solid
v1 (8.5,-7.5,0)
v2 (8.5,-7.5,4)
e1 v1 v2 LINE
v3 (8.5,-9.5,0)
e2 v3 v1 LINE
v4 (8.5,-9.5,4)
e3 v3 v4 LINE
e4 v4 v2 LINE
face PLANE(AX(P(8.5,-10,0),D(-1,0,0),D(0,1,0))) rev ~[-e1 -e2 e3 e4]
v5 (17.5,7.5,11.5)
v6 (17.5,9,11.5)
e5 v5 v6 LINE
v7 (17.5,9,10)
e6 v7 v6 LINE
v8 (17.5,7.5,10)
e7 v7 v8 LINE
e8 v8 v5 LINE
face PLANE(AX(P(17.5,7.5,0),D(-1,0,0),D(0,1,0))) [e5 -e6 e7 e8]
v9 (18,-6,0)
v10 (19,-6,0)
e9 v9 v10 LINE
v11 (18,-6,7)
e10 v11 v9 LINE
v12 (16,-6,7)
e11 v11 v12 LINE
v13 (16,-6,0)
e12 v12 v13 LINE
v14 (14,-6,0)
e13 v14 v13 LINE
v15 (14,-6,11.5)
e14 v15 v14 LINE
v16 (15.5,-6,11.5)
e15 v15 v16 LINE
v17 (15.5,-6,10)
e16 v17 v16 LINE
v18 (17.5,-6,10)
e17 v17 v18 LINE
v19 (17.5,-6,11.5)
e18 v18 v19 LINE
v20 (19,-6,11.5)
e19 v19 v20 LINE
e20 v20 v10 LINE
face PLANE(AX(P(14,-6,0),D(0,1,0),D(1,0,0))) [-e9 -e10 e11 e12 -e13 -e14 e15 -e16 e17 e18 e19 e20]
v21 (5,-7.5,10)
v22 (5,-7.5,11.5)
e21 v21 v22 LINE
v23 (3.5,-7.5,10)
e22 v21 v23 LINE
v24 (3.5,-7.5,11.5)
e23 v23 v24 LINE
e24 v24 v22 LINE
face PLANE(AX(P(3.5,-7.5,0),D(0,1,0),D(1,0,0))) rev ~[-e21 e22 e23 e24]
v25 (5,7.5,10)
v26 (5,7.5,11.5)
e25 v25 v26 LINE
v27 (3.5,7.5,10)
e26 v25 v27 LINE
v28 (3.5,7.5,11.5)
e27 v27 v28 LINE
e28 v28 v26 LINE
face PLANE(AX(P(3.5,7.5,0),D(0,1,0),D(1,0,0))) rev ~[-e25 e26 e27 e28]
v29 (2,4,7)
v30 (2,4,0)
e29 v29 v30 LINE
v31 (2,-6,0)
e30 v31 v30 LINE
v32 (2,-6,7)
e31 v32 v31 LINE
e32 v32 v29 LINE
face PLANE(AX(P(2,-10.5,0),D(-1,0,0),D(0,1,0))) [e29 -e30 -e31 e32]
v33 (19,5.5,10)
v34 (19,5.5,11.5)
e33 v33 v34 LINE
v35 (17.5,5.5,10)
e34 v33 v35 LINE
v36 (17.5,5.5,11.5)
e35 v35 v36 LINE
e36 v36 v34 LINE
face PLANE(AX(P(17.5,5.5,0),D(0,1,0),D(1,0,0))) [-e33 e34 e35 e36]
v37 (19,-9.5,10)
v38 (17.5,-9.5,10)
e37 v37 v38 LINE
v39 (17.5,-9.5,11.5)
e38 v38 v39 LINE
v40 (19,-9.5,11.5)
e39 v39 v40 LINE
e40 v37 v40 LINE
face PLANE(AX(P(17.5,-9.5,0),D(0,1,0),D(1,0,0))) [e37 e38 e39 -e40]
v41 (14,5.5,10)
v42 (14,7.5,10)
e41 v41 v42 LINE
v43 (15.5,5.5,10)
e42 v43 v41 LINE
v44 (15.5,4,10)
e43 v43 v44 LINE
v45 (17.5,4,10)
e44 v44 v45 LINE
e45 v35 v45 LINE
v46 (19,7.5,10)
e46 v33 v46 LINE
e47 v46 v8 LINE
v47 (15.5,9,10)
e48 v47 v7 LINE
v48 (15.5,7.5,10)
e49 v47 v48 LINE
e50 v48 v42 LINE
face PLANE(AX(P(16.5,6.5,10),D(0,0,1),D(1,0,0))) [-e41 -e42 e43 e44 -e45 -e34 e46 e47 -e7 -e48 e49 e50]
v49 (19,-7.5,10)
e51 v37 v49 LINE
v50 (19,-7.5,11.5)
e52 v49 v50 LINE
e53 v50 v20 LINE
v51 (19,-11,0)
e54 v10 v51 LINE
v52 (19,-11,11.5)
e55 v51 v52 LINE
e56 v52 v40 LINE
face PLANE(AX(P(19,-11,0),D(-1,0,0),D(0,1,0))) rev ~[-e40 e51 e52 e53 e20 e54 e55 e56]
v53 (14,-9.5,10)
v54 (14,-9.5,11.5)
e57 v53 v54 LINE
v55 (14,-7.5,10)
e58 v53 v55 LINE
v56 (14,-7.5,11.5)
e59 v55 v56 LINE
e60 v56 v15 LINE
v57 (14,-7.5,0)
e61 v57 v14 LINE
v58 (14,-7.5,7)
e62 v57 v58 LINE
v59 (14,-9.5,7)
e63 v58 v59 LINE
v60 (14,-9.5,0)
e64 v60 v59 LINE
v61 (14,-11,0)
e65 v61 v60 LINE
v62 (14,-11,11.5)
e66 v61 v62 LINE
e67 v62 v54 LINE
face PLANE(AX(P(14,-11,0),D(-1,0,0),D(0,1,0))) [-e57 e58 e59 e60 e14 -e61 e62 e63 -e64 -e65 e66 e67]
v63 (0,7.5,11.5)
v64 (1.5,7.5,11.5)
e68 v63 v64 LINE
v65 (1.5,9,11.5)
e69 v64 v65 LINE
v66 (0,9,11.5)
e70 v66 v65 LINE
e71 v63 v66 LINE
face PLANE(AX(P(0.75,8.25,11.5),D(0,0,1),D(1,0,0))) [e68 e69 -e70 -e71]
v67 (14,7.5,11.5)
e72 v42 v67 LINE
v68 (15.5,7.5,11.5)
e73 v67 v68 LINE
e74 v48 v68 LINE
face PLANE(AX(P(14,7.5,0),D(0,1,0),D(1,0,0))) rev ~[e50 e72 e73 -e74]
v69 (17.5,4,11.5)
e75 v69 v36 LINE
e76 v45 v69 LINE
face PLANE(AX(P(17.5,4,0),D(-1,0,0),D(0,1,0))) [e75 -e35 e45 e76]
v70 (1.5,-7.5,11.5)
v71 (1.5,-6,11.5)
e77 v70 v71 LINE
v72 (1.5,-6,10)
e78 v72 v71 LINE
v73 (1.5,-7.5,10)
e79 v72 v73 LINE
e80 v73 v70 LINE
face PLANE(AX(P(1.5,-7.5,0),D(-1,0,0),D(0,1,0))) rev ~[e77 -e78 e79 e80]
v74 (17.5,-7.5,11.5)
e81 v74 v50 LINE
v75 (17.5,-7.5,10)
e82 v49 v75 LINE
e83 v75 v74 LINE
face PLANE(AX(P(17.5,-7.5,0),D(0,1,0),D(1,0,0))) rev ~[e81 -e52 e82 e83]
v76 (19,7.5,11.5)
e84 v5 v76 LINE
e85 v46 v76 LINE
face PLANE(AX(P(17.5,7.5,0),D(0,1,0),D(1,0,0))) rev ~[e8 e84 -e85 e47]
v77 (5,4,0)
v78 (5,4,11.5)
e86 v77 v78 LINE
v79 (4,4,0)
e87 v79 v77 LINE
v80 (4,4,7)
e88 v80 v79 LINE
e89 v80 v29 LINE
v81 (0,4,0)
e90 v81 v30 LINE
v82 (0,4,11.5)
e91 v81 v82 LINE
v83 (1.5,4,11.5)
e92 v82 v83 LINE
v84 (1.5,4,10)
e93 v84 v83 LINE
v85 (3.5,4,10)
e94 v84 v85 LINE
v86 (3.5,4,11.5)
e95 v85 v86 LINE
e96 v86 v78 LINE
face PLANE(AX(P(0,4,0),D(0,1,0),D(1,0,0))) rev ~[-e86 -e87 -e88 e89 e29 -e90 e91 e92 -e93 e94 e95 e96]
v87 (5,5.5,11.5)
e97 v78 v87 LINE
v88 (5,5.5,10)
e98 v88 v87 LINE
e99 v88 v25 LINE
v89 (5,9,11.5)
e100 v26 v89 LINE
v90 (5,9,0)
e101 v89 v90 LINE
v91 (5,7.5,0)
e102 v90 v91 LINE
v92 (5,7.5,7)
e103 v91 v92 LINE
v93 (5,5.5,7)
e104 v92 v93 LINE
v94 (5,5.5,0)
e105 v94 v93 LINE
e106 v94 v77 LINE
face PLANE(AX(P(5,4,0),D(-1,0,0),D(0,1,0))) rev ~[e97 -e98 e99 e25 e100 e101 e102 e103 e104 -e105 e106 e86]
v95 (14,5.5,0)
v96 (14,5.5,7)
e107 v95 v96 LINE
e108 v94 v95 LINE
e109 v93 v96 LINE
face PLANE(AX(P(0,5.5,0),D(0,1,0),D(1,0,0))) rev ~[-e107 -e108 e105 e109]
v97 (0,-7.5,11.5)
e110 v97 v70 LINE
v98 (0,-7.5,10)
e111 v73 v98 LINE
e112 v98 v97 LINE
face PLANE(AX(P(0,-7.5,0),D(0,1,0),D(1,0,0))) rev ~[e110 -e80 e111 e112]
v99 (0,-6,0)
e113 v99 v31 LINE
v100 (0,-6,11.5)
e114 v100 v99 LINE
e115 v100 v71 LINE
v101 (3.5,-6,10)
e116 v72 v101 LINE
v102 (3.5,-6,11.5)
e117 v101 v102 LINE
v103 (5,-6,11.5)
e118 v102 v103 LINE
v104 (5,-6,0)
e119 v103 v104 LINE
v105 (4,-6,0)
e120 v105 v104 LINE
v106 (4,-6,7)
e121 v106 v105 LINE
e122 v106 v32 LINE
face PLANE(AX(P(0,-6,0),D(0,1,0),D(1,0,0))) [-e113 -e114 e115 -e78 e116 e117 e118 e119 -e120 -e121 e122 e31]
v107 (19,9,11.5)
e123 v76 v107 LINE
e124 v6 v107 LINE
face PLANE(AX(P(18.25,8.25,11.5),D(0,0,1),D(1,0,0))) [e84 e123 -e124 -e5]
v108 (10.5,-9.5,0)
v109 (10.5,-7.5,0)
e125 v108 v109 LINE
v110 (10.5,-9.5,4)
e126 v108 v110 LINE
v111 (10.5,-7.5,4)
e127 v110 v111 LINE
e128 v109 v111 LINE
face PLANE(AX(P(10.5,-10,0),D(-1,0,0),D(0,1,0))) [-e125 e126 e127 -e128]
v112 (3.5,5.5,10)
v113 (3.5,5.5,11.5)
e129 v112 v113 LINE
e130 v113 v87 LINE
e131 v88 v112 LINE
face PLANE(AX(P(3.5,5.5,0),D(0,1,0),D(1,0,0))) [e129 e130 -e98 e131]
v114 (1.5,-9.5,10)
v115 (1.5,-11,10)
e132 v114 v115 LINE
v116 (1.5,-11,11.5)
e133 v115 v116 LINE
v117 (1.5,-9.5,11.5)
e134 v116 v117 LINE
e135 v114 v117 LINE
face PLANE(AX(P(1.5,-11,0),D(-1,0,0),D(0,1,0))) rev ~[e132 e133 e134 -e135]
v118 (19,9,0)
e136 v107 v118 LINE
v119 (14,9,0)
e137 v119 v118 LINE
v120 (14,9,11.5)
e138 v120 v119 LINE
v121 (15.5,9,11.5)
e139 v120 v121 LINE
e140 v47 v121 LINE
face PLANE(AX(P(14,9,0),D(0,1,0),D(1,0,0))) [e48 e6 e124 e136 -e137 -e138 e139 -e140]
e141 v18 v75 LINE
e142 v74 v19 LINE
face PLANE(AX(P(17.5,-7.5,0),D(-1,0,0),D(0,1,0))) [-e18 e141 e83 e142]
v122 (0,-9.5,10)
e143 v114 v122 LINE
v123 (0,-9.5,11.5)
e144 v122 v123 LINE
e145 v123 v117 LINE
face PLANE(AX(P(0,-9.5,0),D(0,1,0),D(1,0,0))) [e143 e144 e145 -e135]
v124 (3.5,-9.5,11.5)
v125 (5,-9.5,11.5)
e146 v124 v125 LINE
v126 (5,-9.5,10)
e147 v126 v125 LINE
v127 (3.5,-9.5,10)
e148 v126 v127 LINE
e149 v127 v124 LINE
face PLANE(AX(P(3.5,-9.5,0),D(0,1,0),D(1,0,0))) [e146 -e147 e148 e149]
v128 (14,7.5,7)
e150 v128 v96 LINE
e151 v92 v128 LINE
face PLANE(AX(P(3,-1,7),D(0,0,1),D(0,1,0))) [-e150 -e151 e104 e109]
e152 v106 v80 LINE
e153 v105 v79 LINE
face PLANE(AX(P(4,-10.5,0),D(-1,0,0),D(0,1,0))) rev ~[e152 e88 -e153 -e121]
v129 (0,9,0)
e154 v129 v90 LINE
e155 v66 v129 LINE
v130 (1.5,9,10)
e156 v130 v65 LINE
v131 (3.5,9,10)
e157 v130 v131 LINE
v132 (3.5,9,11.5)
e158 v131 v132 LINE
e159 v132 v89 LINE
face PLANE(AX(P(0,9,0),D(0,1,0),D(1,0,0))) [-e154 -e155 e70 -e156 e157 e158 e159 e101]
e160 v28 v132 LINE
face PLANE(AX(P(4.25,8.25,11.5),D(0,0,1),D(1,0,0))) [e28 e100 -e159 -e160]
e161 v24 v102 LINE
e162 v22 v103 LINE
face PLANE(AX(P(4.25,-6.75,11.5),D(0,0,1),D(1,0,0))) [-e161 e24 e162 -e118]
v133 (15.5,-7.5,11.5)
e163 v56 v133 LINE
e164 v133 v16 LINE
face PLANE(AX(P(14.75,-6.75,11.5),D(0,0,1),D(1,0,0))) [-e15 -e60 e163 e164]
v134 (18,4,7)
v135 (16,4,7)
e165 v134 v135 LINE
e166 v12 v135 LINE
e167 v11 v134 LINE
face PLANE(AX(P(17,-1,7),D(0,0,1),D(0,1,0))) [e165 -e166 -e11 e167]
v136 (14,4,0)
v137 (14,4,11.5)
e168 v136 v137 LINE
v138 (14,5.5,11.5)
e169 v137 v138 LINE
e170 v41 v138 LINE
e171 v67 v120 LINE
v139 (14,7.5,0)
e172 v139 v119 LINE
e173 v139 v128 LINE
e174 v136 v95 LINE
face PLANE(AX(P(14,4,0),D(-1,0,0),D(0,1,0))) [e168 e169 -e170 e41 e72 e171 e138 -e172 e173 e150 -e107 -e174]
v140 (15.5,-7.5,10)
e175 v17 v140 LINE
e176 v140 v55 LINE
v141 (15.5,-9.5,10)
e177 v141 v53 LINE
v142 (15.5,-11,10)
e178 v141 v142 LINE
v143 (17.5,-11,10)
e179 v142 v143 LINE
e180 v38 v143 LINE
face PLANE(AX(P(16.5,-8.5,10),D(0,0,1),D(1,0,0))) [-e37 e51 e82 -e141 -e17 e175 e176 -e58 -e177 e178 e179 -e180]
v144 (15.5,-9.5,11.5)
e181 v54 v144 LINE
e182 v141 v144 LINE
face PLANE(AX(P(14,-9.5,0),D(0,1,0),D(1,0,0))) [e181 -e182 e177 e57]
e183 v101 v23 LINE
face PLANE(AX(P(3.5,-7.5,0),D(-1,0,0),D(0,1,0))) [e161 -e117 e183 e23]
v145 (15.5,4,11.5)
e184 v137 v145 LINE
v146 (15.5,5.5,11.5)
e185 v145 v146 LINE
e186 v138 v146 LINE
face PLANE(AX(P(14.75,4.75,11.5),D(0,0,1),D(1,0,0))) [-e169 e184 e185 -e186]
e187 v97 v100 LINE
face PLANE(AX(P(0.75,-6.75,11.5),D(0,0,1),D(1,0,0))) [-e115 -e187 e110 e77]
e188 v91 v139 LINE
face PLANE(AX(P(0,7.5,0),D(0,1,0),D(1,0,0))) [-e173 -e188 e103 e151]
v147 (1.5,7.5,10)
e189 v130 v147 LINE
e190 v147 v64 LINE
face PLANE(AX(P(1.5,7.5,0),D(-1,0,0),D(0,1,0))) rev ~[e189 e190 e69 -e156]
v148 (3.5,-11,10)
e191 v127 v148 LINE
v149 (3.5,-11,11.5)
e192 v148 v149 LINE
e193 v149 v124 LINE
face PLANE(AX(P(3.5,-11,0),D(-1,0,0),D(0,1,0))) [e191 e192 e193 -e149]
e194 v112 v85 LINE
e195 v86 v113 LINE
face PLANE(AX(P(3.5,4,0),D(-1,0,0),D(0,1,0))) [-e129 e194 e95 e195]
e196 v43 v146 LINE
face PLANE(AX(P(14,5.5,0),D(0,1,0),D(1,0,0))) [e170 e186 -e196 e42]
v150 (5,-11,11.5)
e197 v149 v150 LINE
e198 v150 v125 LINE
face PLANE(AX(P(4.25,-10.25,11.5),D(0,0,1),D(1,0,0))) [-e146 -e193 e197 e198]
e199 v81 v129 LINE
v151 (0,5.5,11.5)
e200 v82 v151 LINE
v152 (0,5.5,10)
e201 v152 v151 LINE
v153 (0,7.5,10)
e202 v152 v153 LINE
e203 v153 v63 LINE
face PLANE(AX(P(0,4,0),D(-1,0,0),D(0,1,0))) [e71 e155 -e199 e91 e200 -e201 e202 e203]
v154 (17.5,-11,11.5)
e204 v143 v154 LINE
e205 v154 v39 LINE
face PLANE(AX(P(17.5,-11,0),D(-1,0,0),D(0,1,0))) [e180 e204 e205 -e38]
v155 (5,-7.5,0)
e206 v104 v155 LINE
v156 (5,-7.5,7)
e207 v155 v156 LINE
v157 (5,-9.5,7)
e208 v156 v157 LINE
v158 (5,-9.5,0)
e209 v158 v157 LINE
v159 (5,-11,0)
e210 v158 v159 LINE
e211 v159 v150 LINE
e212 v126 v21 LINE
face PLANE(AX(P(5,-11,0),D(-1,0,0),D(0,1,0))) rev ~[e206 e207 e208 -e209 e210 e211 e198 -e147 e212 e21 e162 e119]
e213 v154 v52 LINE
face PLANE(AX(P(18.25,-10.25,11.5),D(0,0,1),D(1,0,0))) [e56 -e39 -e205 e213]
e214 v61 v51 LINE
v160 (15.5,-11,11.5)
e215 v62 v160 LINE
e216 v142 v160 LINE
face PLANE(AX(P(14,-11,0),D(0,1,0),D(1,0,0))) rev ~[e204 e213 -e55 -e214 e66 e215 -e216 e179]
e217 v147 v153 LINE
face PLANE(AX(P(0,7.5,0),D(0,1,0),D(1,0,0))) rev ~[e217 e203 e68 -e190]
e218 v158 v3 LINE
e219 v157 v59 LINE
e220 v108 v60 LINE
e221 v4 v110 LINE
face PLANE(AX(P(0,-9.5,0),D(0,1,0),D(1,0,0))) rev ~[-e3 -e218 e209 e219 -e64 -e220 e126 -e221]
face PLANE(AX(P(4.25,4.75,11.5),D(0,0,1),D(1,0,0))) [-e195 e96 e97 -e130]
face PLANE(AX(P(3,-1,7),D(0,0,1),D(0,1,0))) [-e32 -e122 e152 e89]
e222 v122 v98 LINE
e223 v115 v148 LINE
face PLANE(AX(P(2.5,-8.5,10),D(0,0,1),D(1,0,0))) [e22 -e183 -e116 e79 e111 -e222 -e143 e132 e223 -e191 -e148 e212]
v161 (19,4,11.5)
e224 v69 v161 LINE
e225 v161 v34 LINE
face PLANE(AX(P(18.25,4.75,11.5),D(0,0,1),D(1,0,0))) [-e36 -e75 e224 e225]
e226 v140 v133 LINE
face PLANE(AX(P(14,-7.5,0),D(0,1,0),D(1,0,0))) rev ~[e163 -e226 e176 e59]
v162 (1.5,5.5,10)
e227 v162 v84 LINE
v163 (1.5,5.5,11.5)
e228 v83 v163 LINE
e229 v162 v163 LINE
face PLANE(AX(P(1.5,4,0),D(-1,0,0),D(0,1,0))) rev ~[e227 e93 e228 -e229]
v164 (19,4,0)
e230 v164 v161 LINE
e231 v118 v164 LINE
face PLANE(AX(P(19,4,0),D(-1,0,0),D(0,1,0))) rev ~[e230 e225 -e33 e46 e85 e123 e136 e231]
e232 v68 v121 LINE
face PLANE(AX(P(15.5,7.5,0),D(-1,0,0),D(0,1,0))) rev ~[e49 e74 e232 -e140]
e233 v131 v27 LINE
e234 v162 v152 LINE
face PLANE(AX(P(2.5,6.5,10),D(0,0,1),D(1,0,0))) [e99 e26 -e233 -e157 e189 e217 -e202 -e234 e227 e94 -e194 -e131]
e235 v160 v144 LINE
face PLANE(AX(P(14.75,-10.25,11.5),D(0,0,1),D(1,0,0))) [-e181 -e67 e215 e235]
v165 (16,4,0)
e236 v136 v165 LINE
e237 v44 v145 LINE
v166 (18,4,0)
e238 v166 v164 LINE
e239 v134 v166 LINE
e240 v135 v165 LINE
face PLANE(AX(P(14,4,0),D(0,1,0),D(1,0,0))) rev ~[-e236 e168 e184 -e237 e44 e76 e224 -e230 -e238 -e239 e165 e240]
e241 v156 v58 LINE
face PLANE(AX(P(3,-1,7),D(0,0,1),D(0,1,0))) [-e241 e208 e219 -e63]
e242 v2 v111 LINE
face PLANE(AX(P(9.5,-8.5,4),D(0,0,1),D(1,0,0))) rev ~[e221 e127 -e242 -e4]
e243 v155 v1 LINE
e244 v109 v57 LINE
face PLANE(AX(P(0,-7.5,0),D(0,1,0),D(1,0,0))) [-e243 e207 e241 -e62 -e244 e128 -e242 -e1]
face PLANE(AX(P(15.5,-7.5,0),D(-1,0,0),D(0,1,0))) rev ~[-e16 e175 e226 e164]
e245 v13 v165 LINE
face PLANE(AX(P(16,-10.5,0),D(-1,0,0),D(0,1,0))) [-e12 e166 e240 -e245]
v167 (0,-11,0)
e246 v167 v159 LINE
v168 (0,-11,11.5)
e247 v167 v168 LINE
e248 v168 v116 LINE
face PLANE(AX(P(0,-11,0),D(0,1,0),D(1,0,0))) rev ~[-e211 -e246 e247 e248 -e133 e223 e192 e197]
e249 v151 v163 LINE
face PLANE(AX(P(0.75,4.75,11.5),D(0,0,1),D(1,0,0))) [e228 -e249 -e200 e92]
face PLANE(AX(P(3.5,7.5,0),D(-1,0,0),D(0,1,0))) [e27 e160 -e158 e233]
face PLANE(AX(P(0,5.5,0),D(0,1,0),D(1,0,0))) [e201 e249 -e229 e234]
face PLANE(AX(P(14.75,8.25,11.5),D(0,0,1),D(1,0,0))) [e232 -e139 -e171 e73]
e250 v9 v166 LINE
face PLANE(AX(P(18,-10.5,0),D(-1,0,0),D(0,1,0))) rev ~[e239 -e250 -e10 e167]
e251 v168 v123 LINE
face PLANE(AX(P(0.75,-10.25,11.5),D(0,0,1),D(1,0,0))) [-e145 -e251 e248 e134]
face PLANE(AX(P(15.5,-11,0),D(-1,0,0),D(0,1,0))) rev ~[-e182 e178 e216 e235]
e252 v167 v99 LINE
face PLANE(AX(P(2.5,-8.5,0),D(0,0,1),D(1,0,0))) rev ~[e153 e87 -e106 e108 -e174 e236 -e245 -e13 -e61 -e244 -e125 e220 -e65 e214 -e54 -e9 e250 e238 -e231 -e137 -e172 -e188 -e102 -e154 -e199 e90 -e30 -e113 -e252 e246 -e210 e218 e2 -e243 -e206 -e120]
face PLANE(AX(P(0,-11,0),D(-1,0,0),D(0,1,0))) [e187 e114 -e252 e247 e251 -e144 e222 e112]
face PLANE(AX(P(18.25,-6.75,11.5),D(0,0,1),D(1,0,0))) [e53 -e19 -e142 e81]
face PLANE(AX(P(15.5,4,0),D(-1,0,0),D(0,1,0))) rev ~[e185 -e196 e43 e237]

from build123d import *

# Parameters (mm, degrees)
BOX021_W     = 19
BOX021_H     = 2
BOX021_DEPTH = 7
BOX020_W     = 19
BOX020_H     = 2
BOX020_DEPTH = 7
BOX018_W     = 1.5
BOX018_H     = 1.5
BOX018_DEPTH = 11.5
BOX016_W     = 1.5
BOX016_H     = 1.5
BOX016_DEPTH = 11.5
BOX017_W     = 1.5
BOX017_H     = 1.5
BOX017_DEPTH = 11.5
BOX019_W     = 1.5
BOX019_H     = 1.5
BOX019_DEPTH = 11.5
BOX015_W     = 5
BOX015_H     = 5
BOX015_DEPTH = 10
BOX013_W     = 1.5
BOX013_H     = 1.5
BOX013_DEPTH = 11.5
BOX011_W     = 1.5
BOX011_H     = 1.5
BOX011_DEPTH = 11.5
BOX012_W     = 1.5
BOX012_H     = 1.5
BOX012_DEPTH = 11.5
BOX014_W     = 1.5
BOX014_H     = 1.5
BOX014_DEPTH = 11.5
BOX010_W     = 5
BOX010_H     = 5
BOX010_DEPTH = 10
BOX023_W     = 19
BOX023_H     = 2
BOX023_DEPTH = 7
BOX003_W     = 1.5
BOX003_H     = 1.5
BOX003_DEPTH = 11.5
BOX001_W     = 1.5
BOX001_H     = 1.5
BOX001_DEPTH = 11.5
BOX002_W     = 1.5
BOX002_H     = 1.5
BOX002_DEPTH = 11.5
BOX004_W     = 1.5
BOX004_H     = 1.5
BOX004_DEPTH = 11.5
BOX_W        = 5
BOX_H        = 5
BOX_DEPTH    = 10
BOX008_W     = 1.5
BOX008_H     = 1.5
BOX008_DEPTH = 11.5
BOX006_W     = 1.5
BOX006_H     = 1.5
BOX006_DEPTH = 11.5
BOX007_W     = 1.5
BOX007_H     = 1.5
BOX007_DEPTH = 11.5
BOX009_W     = 1.5
BOX009_H     = 1.5
BOX009_DEPTH = 11.5
BOX005_W     = 5
BOX005_H     = 5
BOX005_DEPTH = 10
BOX024_W     = 2
BOX024_H     = 3
BOX024_DEPTH = 4
BOX022_W     = 19
BOX022_H     = 2
BOX022_DEPTH = 7


with BuildPart() as cubo021:
    # Box021 → Box021 (new body)
    with BuildSketch(Plane(origin=(0, 5.5, 0), x_dir=(1, 0, 0), z_dir=(0, 0, 1))):
        with Locations((9.5, 1)):
            Rectangle(BOX021_W, BOX021_H)
    extrude(amount=BOX021_DEPTH)


with BuildPart() as cubo020:
    # Box020 → Box020 (new body)
    with BuildSketch(Plane(origin=(18, -10.5, 0), x_dir=(0, 1, 0), z_dir=(0, 0, 1))):
        with Locations((9.5, 1)):
            Rectangle(BOX020_W, BOX020_H)
    extrude(amount=BOX020_DEPTH)


with BuildPart() as cubo018:
    # Box018 → Box018 (new body)
    with BuildSketch(Plane(origin=(3.5, 3.5, 0), x_dir=(1, 0, 0), z_dir=(0, 0, 1))):
        with Locations((0.75, 0.75)):
            Rectangle(BOX018_W, BOX018_H)
    extrude(amount=BOX018_DEPTH)


with BuildPart() as cubo016:
    # Box016 → Box016 (new body)
    with BuildSketch(Plane(origin=(0, 3.5, 0), x_dir=(1, 0, 0), z_dir=(0, 0, 1))):
        with Locations((0.75, 0.75)):
            Rectangle(BOX016_W, BOX016_H)
    extrude(amount=BOX016_DEPTH)


with BuildPart() as cubo017:
    # Box017 → Box017 (new body)
    with BuildSketch(Plane(origin=(3.5, 0, 0), x_dir=(1, 0, 0), z_dir=(0, 0, 1))):
        with Locations((0.75, 0.75)):
            Rectangle(BOX017_W, BOX017_H)
    extrude(amount=BOX017_DEPTH)


with BuildPart() as cubo019:
    # Box019 → Box019 (new body)
    with BuildSketch(Plane.XY):
        with Locations((0.75, 0.75)):
            Rectangle(BOX019_W, BOX019_H)
    extrude(amount=BOX019_DEPTH)


with BuildPart() as fusion015:
    # Box015 → Box015 (new body)
    with BuildSketch(Plane.XY):
        with Locations((2.5, 2.5)):
            Rectangle(BOX015_W, BOX015_H)
    extrude(amount=BOX015_DEPTH)

    # Fusion012: union Cubo019
    add(cubo019.part)

    # Fusion013: union Cubo017
    add(cubo017.part)

    # Fusion014: union Cubo016
    add(cubo016.part)

    # Fusion015: union Cubo018
    add(cubo018.part)


with BuildPart() as fusion015_1:
    # Fusion015 placement: moved
    add(fusion015.part.moved(Location((14, 4, 0))))


with BuildPart() as cubo013:
    # Box013 → Box013 (new body)
    with BuildSketch(Plane(origin=(3.5, 3.5, 0), x_dir=(1, 0, 0), z_dir=(0, 0, 1))):
        with Locations((0.75, 0.75)):
            Rectangle(BOX013_W, BOX013_H)
    extrude(amount=BOX013_DEPTH)


with BuildPart() as cubo011:
    # Box011 → Box011 (new body)
    with BuildSketch(Plane(origin=(0, 3.5, 0), x_dir=(1, 0, 0), z_dir=(0, 0, 1))):
        with Locations((0.75, 0.75)):
            Rectangle(BOX011_W, BOX011_H)
    extrude(amount=BOX011_DEPTH)


with BuildPart() as cubo012:
    # Box012 → Box012 (new body)
    with BuildSketch(Plane(origin=(3.5, 0, 0), x_dir=(1, 0, 0), z_dir=(0, 0, 1))):
        with Locations((0.75, 0.75)):
            Rectangle(BOX012_W, BOX012_H)
    extrude(amount=BOX012_DEPTH)


with BuildPart() as cubo014:
    # Box014 → Box014 (new body)
    with BuildSketch(Plane.XY):
        with Locations((0.75, 0.75)):
            Rectangle(BOX014_W, BOX014_H)
    extrude(amount=BOX014_DEPTH)


with BuildPart() as fusion011:
    # Box010 → Box010 (new body)
    with BuildSketch(Plane.XY):
        with Locations((2.5, 2.5)):
            Rectangle(BOX010_W, BOX010_H)
    extrude(amount=BOX010_DEPTH)

    # Fusion008: union Cubo014
    add(cubo014.part)

    # Fusion009: union Cubo012
    add(cubo012.part)

    # Fusion010: union Cubo011
    add(cubo011.part)

    # Fusion011: union Cubo013
    add(cubo013.part)


with BuildPart() as fusion011_1:
    # Fusion011 placement: moved
    add(fusion011.part.moved(Location((14, -11, 0))))


with BuildPart() as cubo023:
    # Box023 → Box023 (new body)
    with BuildSketch(Plane(origin=(4, -10.5, 0), x_dir=(0, 1, 0), z_dir=(0, 0, 1))):
        with Locations((9.5, 1)):
            Rectangle(BOX023_W, BOX023_H)
    extrude(amount=BOX023_DEPTH)


with BuildPart() as cubo003:
    # Box003 → Box003 (new body)
    with BuildSketch(Plane(origin=(3.5, 3.5, 0), x_dir=(1, 0, 0), z_dir=(0, 0, 1))):
        with Locations((0.75, 0.75)):
            Rectangle(BOX003_W, BOX003_H)
    extrude(amount=BOX003_DEPTH)


with BuildPart() as cubo001:
    # Box001 → Box001 (new body)
    with BuildSketch(Plane(origin=(0, 3.5, 0), x_dir=(1, 0, 0), z_dir=(0, 0, 1))):
        with Locations((0.75, 0.75)):
            Rectangle(BOX001_W, BOX001_H)
    extrude(amount=BOX001_DEPTH)


with BuildPart() as cubo002:
    # Box002 → Box002 (new body)
    with BuildSketch(Plane(origin=(3.5, 0, 0), x_dir=(1, 0, 0), z_dir=(0, 0, 1))):
        with Locations((0.75, 0.75)):
            Rectangle(BOX002_W, BOX002_H)
    extrude(amount=BOX002_DEPTH)


with BuildPart() as cubo004:
    # Box004 → Box004 (new body)
    with BuildSketch(Plane.XY):
        with Locations((0.75, 0.75)):
            Rectangle(BOX004_W, BOX004_H)
    extrude(amount=BOX004_DEPTH)


with BuildPart() as fusion003:
    # Box → Box (new body)
    with BuildSketch(Plane.XY):
        with Locations((2.5, 2.5)):
            Rectangle(BOX_W, BOX_H)
    extrude(amount=BOX_DEPTH)

    # Fusion: union Cubo004
    add(cubo004.part)

    # Fusion001: union Cubo002
    add(cubo002.part)

    # Fusion002: union Cubo001
    add(cubo001.part)

    # Fusion003: union Cubo003
    add(cubo003.part)


with BuildPart() as fusion003_1:
    # Fusion003 placement: moved
    add(fusion003.part.moved(Location((0, 4, 0))))


with BuildPart() as cubo008:
    # Box008 → Box008 (new body)
    with BuildSketch(Plane(origin=(3.5, 3.5, 0), x_dir=(1, 0, 0), z_dir=(0, 0, 1))):
        with Locations((0.75, 0.75)):
            Rectangle(BOX008_W, BOX008_H)
    extrude(amount=BOX008_DEPTH)


with BuildPart() as cubo006:
    # Box006 → Box006 (new body)
    with BuildSketch(Plane(origin=(0, 3.5, 0), x_dir=(1, 0, 0), z_dir=(0, 0, 1))):
        with Locations((0.75, 0.75)):
            Rectangle(BOX006_W, BOX006_H)
    extrude(amount=BOX006_DEPTH)


with BuildPart() as cubo007:
    # Box007 → Box007 (new body)
    with BuildSketch(Plane(origin=(3.5, 0, 0), x_dir=(1, 0, 0), z_dir=(0, 0, 1))):
        with Locations((0.75, 0.75)):
            Rectangle(BOX007_W, BOX007_H)
    extrude(amount=BOX007_DEPTH)


with BuildPart() as cubo009:
    # Box009 → Box009 (new body)
    with BuildSketch(Plane.XY):
        with Locations((0.75, 0.75)):
            Rectangle(BOX009_W, BOX009_H)
    extrude(amount=BOX009_DEPTH)


with BuildPart() as fusion007:
    # Box005 → Box005 (new body)
    with BuildSketch(Plane.XY):
        with Locations((2.5, 2.5)):
            Rectangle(BOX005_W, BOX005_H)
    extrude(amount=BOX005_DEPTH)

    # Fusion004: union Cubo009
    add(cubo009.part)

    # Fusion005: union Cubo007
    add(cubo007.part)

    # Fusion006: union Cubo006
    add(cubo006.part)

    # Fusion007: union Cubo008
    add(cubo008.part)


with BuildPart() as fusion007_1:
    # Fusion007 placement: moved
    add(fusion007.part.moved(Location((0, -11, 0))))


with BuildPart() as cubo024:
    # Box024 → Box024 (new body)
    with BuildSketch(Plane(origin=(8.5, -10, 0), x_dir=(1, 0, 0), z_dir=(0, 0, 1))):
        with Locations((1, 1.5)):
            Rectangle(BOX024_W, BOX024_H)
    extrude(amount=BOX024_DEPTH)


with BuildPart() as fusion016:
    # Box022 → Box022 (new body)
    with BuildSketch(Plane(origin=(0, -9.5, 0), x_dir=(1, 0, 0), z_dir=(0, 0, 1))):
        with Locations((9.5, 1)):
            Rectangle(BOX022_W, BOX022_H)
    extrude(amount=BOX022_DEPTH)

    # Cut: cut Cubo024
    add(cubo024.part, mode=Mode.SUBTRACT)

    # Fusion016: union Cubo021, Cubo020, Fusion015, Fusion011, Cubo023, Fusion003, Fusion007
    add(cubo021.part)
    add(cubo020.part)
    add(fusion015_1.part)
    add(fusion011_1.part)
    add(cubo023.part)
    add(fusion003_1.part)
    add(fusion007_1.part)


solid = fusion016.part
